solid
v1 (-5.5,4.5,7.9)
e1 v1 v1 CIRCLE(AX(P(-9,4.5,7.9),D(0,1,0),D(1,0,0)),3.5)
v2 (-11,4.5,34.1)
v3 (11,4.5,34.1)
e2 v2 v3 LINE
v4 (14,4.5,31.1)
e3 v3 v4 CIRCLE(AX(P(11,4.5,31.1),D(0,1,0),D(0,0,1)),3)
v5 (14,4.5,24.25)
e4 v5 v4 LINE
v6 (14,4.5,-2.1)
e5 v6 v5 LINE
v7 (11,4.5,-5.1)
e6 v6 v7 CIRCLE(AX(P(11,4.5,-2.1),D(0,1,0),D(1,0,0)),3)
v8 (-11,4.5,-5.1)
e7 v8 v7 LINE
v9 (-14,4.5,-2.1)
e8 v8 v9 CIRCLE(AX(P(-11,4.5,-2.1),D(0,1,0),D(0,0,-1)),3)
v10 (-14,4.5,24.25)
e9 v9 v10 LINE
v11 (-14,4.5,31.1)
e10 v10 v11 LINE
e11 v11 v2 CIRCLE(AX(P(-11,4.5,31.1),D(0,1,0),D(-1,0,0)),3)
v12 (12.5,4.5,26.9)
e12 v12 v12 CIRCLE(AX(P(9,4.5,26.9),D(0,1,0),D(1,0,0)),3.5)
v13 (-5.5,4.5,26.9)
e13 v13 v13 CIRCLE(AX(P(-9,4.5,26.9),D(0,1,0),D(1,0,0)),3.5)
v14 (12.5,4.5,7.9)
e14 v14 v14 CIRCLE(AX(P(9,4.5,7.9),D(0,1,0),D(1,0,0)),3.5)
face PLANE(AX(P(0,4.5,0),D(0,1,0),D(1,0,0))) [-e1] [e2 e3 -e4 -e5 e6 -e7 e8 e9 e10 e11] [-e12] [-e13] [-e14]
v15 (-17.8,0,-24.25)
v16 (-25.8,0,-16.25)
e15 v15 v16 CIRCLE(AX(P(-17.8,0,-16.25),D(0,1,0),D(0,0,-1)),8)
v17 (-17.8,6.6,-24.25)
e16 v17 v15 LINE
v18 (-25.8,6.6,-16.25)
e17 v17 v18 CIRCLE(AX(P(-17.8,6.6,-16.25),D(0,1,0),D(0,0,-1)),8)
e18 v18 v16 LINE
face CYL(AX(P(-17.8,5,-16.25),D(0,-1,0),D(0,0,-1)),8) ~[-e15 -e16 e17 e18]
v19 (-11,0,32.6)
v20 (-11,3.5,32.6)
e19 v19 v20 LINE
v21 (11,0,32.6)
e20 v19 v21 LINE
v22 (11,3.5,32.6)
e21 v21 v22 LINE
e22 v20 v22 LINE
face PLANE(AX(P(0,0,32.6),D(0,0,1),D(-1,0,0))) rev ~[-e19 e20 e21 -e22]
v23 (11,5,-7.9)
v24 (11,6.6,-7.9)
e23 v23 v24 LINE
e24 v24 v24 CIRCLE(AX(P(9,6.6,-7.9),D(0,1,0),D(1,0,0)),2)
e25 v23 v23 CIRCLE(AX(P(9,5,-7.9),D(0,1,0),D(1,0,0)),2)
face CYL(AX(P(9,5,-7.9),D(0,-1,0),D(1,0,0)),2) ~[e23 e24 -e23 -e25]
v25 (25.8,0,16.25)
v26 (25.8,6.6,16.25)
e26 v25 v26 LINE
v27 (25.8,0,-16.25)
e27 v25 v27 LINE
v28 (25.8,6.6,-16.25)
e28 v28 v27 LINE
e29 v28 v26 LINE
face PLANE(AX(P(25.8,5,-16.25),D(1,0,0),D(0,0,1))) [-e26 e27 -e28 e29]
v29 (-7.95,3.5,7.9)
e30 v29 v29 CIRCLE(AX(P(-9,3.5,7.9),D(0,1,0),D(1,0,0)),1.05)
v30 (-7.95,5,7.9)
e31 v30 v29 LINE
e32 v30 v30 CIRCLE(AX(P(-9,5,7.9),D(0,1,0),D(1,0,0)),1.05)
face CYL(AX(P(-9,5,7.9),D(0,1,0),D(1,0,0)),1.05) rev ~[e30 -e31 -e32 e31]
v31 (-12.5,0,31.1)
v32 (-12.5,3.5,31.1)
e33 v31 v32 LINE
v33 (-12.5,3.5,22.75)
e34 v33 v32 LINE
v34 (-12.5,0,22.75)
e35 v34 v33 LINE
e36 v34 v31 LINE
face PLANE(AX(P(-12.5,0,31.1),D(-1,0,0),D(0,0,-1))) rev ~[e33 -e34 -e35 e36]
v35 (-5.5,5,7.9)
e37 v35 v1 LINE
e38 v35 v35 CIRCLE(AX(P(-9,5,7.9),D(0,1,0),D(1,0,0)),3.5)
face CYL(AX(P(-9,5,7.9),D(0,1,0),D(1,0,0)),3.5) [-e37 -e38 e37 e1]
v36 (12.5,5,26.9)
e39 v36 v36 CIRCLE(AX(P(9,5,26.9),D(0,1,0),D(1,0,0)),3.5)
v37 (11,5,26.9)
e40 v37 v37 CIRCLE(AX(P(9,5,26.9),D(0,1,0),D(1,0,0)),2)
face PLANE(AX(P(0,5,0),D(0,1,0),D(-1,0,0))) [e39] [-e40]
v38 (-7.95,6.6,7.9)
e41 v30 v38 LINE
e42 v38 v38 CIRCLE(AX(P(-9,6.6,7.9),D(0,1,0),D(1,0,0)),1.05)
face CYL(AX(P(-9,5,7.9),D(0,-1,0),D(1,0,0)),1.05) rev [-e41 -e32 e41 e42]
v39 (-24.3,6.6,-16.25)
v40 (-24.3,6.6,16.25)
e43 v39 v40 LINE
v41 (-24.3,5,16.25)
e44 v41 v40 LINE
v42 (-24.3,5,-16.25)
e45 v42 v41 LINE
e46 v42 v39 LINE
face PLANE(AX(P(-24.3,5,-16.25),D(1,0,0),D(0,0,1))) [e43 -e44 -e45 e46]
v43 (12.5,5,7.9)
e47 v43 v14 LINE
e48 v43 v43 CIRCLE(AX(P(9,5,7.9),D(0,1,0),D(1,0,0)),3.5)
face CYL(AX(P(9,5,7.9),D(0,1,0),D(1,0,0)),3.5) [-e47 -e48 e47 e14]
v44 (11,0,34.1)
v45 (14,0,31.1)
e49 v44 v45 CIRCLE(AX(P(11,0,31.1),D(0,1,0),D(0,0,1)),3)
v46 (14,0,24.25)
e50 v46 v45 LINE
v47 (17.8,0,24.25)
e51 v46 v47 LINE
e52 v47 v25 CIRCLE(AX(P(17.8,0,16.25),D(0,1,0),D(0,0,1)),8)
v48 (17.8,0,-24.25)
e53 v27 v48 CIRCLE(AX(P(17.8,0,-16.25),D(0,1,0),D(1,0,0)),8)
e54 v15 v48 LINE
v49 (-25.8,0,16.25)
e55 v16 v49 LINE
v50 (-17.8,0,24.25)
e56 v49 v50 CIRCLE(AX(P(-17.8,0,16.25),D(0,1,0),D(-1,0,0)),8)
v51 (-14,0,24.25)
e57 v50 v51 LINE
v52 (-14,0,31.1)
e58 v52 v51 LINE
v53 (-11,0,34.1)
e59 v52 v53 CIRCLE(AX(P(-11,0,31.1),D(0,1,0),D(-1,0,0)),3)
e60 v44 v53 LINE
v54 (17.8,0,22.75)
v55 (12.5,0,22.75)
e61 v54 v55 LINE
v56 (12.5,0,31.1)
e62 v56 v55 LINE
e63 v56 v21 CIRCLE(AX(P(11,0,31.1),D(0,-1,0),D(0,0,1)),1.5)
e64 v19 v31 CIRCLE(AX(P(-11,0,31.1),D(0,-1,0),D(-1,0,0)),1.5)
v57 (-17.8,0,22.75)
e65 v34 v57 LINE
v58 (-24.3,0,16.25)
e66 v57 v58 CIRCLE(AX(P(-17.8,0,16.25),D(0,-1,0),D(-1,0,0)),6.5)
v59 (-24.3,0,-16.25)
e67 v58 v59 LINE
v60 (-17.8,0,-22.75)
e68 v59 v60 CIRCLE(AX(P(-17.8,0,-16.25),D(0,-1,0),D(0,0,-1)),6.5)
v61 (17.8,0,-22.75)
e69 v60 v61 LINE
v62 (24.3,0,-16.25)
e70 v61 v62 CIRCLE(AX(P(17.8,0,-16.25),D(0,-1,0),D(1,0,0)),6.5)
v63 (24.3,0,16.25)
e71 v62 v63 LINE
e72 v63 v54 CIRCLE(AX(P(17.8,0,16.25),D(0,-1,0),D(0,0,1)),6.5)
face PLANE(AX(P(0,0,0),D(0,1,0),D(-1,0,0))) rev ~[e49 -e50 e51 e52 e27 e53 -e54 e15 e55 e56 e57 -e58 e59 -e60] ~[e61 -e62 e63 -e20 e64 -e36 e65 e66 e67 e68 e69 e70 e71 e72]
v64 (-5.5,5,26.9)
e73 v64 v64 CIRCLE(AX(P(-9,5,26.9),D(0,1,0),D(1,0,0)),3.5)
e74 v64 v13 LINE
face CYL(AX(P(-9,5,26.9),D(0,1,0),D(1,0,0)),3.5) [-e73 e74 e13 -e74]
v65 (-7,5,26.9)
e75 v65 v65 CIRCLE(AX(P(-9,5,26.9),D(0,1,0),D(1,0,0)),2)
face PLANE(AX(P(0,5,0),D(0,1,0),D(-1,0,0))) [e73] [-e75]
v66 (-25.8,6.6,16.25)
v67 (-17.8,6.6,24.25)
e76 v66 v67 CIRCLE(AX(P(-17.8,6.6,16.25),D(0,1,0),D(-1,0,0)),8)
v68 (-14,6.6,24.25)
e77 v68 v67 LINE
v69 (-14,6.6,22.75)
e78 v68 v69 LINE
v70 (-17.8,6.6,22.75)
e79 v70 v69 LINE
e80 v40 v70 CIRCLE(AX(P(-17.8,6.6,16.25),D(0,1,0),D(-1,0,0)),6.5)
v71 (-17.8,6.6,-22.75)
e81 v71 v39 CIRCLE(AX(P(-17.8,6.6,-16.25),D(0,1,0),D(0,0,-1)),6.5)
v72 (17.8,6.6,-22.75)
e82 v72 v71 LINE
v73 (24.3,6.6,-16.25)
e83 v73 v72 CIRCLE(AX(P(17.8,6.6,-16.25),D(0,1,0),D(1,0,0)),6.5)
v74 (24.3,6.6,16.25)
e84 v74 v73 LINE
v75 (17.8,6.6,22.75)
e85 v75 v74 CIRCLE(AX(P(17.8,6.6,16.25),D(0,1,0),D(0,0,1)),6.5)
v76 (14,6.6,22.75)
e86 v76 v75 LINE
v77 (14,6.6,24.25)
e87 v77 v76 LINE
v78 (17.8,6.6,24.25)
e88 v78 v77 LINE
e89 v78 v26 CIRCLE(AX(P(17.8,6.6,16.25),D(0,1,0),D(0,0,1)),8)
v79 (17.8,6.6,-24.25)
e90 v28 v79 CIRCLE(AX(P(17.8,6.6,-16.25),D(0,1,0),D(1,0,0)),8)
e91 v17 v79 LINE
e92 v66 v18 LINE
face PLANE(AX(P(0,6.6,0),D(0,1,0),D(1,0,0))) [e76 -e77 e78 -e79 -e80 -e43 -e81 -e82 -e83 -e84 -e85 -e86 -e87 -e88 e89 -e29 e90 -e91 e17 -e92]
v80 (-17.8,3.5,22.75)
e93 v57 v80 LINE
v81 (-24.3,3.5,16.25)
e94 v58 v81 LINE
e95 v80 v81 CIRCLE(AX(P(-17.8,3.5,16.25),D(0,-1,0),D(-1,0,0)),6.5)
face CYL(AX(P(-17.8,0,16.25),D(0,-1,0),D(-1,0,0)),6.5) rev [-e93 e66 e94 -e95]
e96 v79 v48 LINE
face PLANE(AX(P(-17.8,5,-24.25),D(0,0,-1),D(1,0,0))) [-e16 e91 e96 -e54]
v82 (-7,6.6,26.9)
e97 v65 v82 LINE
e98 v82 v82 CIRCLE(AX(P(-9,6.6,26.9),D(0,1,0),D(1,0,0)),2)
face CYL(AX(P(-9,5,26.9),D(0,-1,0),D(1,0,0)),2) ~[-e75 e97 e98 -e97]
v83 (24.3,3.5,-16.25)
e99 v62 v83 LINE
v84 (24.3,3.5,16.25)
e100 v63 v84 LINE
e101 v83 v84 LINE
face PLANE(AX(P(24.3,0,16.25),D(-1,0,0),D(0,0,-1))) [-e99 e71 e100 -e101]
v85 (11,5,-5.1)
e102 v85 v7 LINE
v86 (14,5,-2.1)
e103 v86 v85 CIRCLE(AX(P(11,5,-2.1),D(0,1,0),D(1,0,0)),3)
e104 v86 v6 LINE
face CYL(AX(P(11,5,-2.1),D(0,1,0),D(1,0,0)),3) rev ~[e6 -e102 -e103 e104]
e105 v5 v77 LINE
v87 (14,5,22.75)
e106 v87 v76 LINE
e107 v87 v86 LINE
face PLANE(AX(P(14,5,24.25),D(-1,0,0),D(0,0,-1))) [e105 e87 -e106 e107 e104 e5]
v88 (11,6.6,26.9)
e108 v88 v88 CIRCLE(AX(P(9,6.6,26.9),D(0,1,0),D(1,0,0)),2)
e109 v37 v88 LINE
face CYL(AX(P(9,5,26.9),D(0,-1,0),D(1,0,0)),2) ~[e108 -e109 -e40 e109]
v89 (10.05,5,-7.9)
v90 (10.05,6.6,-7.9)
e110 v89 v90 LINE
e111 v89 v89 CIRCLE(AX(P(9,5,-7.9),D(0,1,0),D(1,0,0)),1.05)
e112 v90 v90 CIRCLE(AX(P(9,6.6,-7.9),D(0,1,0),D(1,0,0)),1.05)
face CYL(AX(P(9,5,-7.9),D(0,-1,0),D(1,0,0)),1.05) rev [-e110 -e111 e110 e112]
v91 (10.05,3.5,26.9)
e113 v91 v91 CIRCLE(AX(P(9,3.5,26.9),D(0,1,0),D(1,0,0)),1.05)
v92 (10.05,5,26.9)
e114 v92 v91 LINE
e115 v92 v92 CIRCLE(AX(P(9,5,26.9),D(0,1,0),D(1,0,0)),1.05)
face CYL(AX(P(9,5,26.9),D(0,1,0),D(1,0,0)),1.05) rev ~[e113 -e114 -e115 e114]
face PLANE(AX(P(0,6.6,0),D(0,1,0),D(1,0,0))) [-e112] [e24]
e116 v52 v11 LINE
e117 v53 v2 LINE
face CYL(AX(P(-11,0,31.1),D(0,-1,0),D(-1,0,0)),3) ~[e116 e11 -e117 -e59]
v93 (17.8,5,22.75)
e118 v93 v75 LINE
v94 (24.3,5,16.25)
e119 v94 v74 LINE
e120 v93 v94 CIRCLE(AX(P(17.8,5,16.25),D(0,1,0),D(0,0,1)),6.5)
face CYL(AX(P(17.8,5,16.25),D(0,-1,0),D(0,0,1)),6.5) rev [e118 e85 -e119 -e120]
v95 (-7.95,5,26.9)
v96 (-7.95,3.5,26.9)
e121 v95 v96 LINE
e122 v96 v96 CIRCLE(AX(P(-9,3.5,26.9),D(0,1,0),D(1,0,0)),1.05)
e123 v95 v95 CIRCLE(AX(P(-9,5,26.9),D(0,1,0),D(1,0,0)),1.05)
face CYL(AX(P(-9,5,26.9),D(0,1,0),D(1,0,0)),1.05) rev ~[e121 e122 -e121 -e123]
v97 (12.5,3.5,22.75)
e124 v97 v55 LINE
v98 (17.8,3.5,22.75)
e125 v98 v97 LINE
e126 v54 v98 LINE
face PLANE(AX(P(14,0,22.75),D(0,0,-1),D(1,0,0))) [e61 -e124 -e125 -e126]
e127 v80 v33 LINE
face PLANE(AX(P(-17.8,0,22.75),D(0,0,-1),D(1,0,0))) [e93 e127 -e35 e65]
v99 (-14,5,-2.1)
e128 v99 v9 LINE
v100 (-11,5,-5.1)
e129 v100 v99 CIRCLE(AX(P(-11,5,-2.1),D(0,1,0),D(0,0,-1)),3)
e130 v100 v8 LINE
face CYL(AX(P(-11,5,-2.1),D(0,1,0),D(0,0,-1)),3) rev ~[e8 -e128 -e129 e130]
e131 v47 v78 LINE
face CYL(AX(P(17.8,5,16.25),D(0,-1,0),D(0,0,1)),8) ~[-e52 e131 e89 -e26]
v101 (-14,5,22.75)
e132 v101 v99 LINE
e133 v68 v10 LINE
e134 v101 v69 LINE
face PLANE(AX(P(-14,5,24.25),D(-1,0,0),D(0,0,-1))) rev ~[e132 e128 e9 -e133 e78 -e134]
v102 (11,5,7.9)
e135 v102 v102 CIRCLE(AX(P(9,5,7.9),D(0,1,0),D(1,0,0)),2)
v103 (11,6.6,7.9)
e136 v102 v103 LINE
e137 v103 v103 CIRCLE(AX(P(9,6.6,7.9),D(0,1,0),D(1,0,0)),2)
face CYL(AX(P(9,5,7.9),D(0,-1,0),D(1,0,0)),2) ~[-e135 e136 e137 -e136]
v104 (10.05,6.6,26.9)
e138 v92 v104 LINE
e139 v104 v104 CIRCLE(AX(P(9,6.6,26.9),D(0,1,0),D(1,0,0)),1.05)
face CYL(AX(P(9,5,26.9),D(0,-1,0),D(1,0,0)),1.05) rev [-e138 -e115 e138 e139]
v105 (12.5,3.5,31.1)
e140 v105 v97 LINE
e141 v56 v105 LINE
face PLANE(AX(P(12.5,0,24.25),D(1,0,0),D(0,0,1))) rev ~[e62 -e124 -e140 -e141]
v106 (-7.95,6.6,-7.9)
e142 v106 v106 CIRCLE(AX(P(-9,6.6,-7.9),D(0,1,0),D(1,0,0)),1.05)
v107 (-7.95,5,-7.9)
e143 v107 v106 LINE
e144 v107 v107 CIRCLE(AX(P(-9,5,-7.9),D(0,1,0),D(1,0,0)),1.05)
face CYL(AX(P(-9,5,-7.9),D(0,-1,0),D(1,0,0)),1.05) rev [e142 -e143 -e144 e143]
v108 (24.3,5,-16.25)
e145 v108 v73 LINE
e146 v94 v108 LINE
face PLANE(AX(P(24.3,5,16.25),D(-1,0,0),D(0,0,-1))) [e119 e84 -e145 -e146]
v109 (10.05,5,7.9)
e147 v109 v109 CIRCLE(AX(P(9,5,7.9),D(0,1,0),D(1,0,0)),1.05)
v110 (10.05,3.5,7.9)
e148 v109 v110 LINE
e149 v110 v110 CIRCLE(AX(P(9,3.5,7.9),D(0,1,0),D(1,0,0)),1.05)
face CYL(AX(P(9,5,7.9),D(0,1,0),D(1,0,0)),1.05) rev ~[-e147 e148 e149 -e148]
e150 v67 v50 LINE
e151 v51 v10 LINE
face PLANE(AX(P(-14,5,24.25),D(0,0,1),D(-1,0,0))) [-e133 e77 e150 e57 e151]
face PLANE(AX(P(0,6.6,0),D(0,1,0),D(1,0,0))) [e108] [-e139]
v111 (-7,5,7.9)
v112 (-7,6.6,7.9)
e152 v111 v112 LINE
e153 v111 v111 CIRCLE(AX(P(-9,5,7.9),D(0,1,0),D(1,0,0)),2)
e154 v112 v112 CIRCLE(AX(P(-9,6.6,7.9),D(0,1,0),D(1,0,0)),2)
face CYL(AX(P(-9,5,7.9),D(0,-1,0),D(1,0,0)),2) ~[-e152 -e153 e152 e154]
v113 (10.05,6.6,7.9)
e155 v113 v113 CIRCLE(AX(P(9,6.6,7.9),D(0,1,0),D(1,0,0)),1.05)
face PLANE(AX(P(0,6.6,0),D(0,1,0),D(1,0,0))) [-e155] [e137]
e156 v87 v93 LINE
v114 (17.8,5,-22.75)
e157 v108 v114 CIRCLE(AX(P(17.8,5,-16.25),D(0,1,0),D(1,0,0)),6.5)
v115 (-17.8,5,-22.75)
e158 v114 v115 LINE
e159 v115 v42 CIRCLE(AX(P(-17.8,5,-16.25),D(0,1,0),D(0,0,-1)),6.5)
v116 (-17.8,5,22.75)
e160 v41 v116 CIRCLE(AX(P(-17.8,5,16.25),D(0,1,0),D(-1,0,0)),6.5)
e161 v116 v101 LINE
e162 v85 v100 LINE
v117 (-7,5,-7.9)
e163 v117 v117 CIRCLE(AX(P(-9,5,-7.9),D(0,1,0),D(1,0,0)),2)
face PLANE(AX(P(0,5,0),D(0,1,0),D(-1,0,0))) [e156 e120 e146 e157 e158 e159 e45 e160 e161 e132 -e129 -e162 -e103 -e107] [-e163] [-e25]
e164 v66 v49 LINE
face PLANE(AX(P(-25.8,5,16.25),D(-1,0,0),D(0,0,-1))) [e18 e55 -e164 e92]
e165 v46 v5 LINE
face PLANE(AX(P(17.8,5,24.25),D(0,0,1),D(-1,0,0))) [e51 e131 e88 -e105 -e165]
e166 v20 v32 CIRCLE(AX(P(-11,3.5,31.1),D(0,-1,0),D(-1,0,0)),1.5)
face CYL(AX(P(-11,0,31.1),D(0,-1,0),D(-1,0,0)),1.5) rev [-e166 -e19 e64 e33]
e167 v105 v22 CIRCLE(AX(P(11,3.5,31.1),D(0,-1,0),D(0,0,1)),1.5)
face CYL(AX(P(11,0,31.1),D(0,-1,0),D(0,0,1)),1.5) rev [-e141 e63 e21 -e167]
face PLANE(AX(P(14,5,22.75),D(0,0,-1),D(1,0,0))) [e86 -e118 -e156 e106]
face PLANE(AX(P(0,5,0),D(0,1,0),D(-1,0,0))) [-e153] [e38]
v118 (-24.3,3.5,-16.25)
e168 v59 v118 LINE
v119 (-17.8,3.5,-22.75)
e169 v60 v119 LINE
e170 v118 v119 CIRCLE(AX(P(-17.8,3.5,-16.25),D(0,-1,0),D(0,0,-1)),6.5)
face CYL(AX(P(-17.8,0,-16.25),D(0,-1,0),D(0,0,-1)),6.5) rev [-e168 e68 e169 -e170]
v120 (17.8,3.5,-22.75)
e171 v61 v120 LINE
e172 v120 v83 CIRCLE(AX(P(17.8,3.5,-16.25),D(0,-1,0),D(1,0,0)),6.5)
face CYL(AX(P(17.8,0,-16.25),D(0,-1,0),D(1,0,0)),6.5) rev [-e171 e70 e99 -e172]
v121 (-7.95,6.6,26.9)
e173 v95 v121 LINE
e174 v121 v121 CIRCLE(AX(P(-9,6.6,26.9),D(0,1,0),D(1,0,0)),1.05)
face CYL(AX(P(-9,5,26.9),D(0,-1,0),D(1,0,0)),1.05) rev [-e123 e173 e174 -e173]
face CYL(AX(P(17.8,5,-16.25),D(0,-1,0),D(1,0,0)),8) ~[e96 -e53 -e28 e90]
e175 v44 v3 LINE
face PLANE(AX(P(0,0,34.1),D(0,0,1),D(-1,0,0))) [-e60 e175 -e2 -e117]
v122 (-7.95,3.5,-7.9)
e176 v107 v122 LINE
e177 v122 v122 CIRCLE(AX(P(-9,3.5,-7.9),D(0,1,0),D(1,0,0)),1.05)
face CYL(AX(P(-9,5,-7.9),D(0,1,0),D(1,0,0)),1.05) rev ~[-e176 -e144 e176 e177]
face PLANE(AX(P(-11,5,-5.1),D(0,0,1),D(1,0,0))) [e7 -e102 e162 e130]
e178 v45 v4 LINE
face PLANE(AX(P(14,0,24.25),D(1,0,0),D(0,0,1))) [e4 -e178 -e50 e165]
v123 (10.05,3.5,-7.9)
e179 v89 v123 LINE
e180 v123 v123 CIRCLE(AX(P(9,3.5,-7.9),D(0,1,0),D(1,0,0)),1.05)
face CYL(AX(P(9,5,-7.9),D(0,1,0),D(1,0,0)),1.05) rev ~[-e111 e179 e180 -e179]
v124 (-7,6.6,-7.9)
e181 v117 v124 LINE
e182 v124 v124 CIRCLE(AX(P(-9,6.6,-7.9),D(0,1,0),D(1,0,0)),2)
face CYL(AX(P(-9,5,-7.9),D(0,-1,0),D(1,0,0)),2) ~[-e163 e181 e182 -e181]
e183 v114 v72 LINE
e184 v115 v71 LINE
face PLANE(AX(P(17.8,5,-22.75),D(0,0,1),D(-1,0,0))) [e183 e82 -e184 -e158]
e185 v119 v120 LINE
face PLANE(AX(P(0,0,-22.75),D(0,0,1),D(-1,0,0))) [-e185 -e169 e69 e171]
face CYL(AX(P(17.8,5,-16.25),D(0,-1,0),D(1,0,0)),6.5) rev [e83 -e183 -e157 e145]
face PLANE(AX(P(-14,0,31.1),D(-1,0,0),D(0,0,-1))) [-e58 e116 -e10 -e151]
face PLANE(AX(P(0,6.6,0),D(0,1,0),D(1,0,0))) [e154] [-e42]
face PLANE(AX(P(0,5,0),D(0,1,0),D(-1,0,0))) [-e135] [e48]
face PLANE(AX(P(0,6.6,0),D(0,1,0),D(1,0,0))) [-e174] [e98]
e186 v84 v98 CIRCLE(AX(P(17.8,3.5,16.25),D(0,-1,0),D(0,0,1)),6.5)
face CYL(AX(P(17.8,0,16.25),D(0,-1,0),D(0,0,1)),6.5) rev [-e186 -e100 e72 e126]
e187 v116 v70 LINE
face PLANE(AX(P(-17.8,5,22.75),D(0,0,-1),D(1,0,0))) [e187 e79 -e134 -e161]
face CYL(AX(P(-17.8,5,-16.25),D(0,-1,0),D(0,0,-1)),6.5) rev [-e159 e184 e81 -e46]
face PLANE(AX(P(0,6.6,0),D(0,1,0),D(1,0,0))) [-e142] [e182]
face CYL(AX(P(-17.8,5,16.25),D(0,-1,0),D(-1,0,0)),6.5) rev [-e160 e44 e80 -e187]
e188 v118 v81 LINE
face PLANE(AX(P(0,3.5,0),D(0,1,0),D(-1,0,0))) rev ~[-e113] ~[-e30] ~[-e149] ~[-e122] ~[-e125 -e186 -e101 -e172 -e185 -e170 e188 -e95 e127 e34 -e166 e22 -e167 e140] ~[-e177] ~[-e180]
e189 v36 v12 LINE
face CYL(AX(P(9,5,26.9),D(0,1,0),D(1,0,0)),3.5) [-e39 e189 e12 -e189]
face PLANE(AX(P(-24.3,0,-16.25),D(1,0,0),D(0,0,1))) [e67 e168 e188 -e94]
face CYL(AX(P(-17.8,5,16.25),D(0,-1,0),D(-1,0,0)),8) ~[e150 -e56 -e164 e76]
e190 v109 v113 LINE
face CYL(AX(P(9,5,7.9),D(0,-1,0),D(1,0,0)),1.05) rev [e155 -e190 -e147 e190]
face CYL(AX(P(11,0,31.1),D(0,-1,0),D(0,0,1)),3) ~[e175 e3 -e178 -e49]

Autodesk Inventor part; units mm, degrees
ref_plane "YZ Plane" through (0, 0, 0) normal (1, 0, 0) x (0, 1, 0)
ref_plane "XZ Plane" through (0, 0, 0) normal (0, 1, 0) x (-1, 0, 0)
ref_plane "XY Plane" through (0, 0, 0) normal (0, 0, 1) x (1, 0, 0)
sketch "Sketch1" plane through (0, 0, 0) normal (0, 1, 0) x (-1, 0, 0)
  line L0 (17.8, 24.25) -> (-17.8, 24.25)
  line L1 (-25.8, 16.25) -> (-25.8, -16.25)
  line L2 (-17.8, -24.25) -> (17.8, -24.25)
  line L3 (25.8, -16.25) -> (25.8, 16.25)
  line L4 (25.8, 24.25) -> (-25.8, -24.25) construction
  line L5 (-25.8, 24.25) -> (25.8, -24.25) construction
  line L6 (14, 24.25) -> (-14, 24.25)
  line L7 (-14, 24.25) -> (-14, 31.1)
  line L8 (-11, 34.1) -> (11, 34.1)
  line L9 (14, 31.1) -> (14, 24.25)
  line L10 (0, -38.0325) -> (0, 46.847) projected
  arc A0 (14, 31.1) -> (11, 34.1) centre (11, 31.1) ccw
  arc A1 (-11, 34.1) -> (-14, 31.1) centre (-11, 31.1) ccw
  arc A2 (17.8, -24.25) -> (25.8, -16.25) centre (17.8, -16.25) ccw
  arc A3 (-25.8, -16.25) -> (-17.8, -24.25) centre (-17.8, -16.25) ccw
  arc A4 (-17.8, 24.25) -> (-25.8, 16.25) centre (-17.8, 16.25) ccw
  arc A5 (25.8, 16.25) -> (17.8, 24.25) centre (17.8, 16.25) ccw
  point P0 (0, 0)
  point P1 (-14, 34.1)
  dimension "d0" = 48.5
  dimension "d1" = 51.6
  dimension "d2" = 9.85
  dimension "d3" = 28
  dimension "d5" = 3
  dimension "d10" = 8
extrude "Extrusion1" add sketch "Sketch1" along normal blind 5
shell "Shell1" thickness 1.5 removed faces 1 at (4.6667, 0, -8.0833)
sketch "Sketch2" plane through (0, 5, 0) normal (0, 1, 0) x (1, 0, 0)
  circle A0 centre (-9, -7.9) radius 1.05
  circle A1 centre (9, -7.9) radius 1.05
  circle A2 centre (-9, 7.9) radius 1.05
  circle A3 centre (9, 7.9) radius 1.05
  line L0 (-36.12, 0) -> (36.12, 0) projected
  line L1 (0, 35.92) -> (0, -45.77) projected
  circle A4 centre (-9, -26.9) radius 1.05
  circle A5 centre (9, -26.9) radius 1.05
  point P0 (0, 0)
  dimension "d11" = 2.1
  dimension "d12" = 18
  dimension "d13" = 15.8
  dimension "d14" = 19
extrude "Extrusion2" cut sketch "Sketch2" against normal through all
sketch "Sketch3" plane through (0, 5, 0) normal (0, 1, 0) x (1, 0, 0)
  circle A0 centre (9, -7.9) radius 1.05 projected
  circle A1 centre (-9, 7.9) radius 1.05 projected
  circle A2 centre (9, -26.9) radius 1.05 projected
  circle A3 centre (-9, -7.9) radius 1.05 projected
  circle A4 centre (9, 7.9) radius 1.05 projected
  circle A5 centre (-9, -26.9) radius 1.05 projected
  arc A6 (11, -34.1) -> (14, -31.1) centre (11, -31.1) ccw projected
  line L0 (11, -34.1) -> (-11, -34.1) projected
  arc A7 (-14, -31.1) -> (-11, -34.1) centre (-11, -31.1) ccw projected
  line L1 (-14, -31.1) -> (-14, -24.25) projected
  line L2 (-14, -24.25) -> (-17.8, -24.25) projected
  arc A8 (-25.8, -16.25) -> (-17.8, -24.25) centre (-17.8, -16.25) ccw projected
  line L3 (-25.8, -16.25) -> (-25.8, 16.25) projected
  arc A9 (-17.8, 24.25) -> (-25.8, 16.25) centre (-17.8, 16.25) ccw projected
  line L4 (-17.8, 24.25) -> (17.8, 24.25) projected
  arc A10 (25.8, 16.25) -> (17.8, 24.25) centre (17.8, 16.25) ccw projected
  line L5 (25.8, 16.25) -> (25.8, -16.25) projected
  arc A11 (17.8, -24.25) -> (25.8, -16.25) centre (17.8, -16.25) ccw projected
  line L6 (17.8, -24.25) -> (14, -24.25) projected
  line L7 (14, -24.25) -> (14, -31.1) projected
  line L8 (-24.3, 16.25) -> (-24.3, -16.25)
  arc A12 (-24.3, -16.25) -> (-17.8, -22.75) centre (-17.8, -16.25) ccw
  line L9 (-17.8, -22.75) -> (-12.5, -22.75)
  line L10 (-12.5, -22.75) -> (-12.5, -31.1)
  arc A13 (-12.5, -31.1) -> (-11, -32.6) centre (-11, -31.1) ccw
  line L11 (-11, -32.6) -> (11, -32.6)
  arc A14 (11, -32.6) -> (12.5, -31.1) centre (11, -31.1) ccw
  line L12 (12.5, -31.1) -> (12.5, -22.75)
  line L13 (12.5, -22.75) -> (17.8, -22.75)
  arc A15 (17.8, -22.75) -> (24.3, -16.25) centre (17.8, -16.25) ccw
  line L14 (24.3, -16.25) -> (24.3, 16.25)
  arc A16 (24.3, 16.25) -> (17.8, 22.75) centre (17.8, 16.25) ccw
  line L15 (17.8, 22.75) -> (-17.8, 22.75)
  arc A17 (-17.8, 22.75) -> (-24.3, 16.25) centre (-17.8, 16.25) ccw
  line L16 (-14, -24.25) -> (-14, -22.75)
  line L17 (14, -24.25) -> (14, -22.75)
  point P0 (0, 0)
  dimension "d17" = 1.5
extrude "Extrusion3" add sketch "Sketch3" along normal blind 1.6 contours L17 L13 A15 L14 A16 L15 A17 L8 A12 L9 L16 L2 A8 L3 A9 L4 A10 L5 A11 L6
sketch "Sketch4" plane through (0, 5, 0) normal (0, 1, 0) x (1, 0, 0)
  circle A0 centre (-9, 7.9) radius 2
  circle A1 centre (9, 7.9) radius 2
  circle A2 centre (9, -7.9) radius 2
  circle A3 centre (-9, -7.9) radius 2
  circle A4 centre (-9, -26.9) radius 2
  circle A5 centre (9, -26.9) radius 2
  circle A6 centre (9, 7.9) radius 1.05 projected
  circle A7 centre (9, -7.9) radius 1.05 projected
  circle A8 centre (9, -26.9) radius 1.05 projected
  circle A9 centre (-9, -26.9) radius 1.05 projected
  circle A10 centre (-9, -7.9) radius 1.05 projected
  circle A11 centre (-9, 7.9) radius 1.05 projected
  point P0 (0, 0)
  dimension "d20" = 4
extrude "Extrusion4" add sketch "Sketch4" along normal blind 1.6
sketch "Sketch5" plane through (0, 5, 0) normal (0, 1, 0) x (1, 0, 0)
  line L0 (-11, -34.1) -> (11, -34.1) projected
  line L1 (0, 38.0325) -> (0, -46.847) projected
  circle A0 centre (-9, 7.9) radius 1.05 projected
  arc A1 (-14, -31.1) -> (-11, -34.1) centre (-11, -31.1) ccw projected
  circle A2 centre (9, -7.9) radius 2 projected
  circle A3 centre (-9, 7.9) radius 2 projected
  circle A4 centre (9, -26.9) radius 2 projected
  circle A5 centre (-9, -7.9) radius 2 projected
  circle A6 centre (9, 7.9) radius 2 projected
  circle A7 centre (-9, -26.9) radius 2 projected
  circle A8 centre (9, -7.9) radius 1.05 projected
  circle A9 centre (-9, 7.9) radius 1.05 projected
  circle A10 centre (9, -26.9) radius 1.05 projected
  circle A11 centre (-9, -7.9) radius 1.05 projected
  circle A12 centre (9, 7.9) radius 1.05 projected
  circle A13 centre (-9, -26.9) radius 1.05 projected
  line L2 (11, -34.1) -> (-11, -34.1) projected
  line L3 (-14, -31.1) -> (-14, -24.25) projected
  line L4 (-14, -22.75) -> (-14, -24.25) projected
  line L5 (-17.8, -22.75) -> (-14, -22.75) projected
  arc A14 (-24.3, -16.25) -> (-17.8, -22.75) centre (-17.8, -16.25) ccw projected
  line L6 (-24.3, 16.25) -> (-24.3, -16.25) projected
  arc A15 (-17.8, 22.75) -> (-24.3, 16.25) centre (-17.8, 16.25) ccw projected
  line L7 (17.8, 22.75) -> (-17.8, 22.75) projected
  arc A16 (24.3, 16.25) -> (17.8, 22.75) centre (17.8, 16.25) ccw projected
  line L8 (24.3, -16.25) -> (24.3, 16.25) projected
  arc A17 (17.8, -22.75) -> (24.3, -16.25) centre (17.8, -16.25) ccw projected
  line L9 (14, -22.75) -> (17.8, -22.75) projected
  line L10 (14, -24.25) -> (14, -22.75) projected
  line L11 (17.8, -24.25) -> (14, -24.25) projected
  arc A18 (17.8, -24.25) -> (25.8, -16.25) centre (17.8, -16.25) ccw projected
  line L12 (25.8, 16.25) -> (25.8, -16.25) projected
  arc A19 (25.8, 16.25) -> (17.8, 24.25) centre (17.8, 16.25) ccw projected
  line L13 (-17.8, 24.25) -> (17.8, 24.25) projected
  arc A20 (-17.8, 24.25) -> (-25.8, 16.25) centre (-17.8, 16.25) ccw projected
  line L14 (-25.8, -16.25) -> (-25.8, 16.25) projected
  arc A21 (-25.8, -16.25) -> (-17.8, -24.25) centre (-17.8, -16.25) ccw projected
  line L15 (-14, -24.25) -> (-17.8, -24.25) projected
  line L16 (14, -24.25) -> (14, -31.1) projected
  circle A22 centre (-9, -26.9) radius 3.5
  circle A23 centre (-9, -7.9) radius 3.5
  circle A24 centre (9, -7.9) radius 3.5
  circle A25 centre (9, -26.9) radius 3.5
  circle A26 centre (-9, 7.9) radius 2 projected
  arc A27 (11, -34.1) -> (14, -31.1) centre (11, -31.1) ccw projected
  arc A28 (-14, -31.1) -> (-11, -34.1) centre (-11, -31.1) ccw projected
  line L17 (-11, 5.1) -> (11, 5.1)
  line L18 (14, 2.1) -> (14, -31.1)
  line L19 (11, -34.1) -> (-11, -34.1)
  line L20 (-14, -31.1) -> (-14, 2.1)
  arc A29 (-14, -31.1) -> (-11, -34.1) centre (-11, -31.1) ccw
  arc A30 (11, -34.1) -> (14, -31.1) centre (11, -31.1) ccw
  arc A31 (14, 2.1) -> (11, 5.1) centre (11, 2.1) ccw
  arc A32 (-11, 5.1) -> (-14, 2.1) centre (-11, 2.1) ccw
  point P0 (0, 0)
  point P1 (0, -34.1)
  point P2 (14, -24.2498)
  dimension "d25" = 7
  dimension "d30" = 39.2
extrude "Extrusion5" cut sketch "Sketch5" against normal blind 0.5 contours A1 L3 L4 L20 A32 L17 L1 L0 | L1 L17 A31 L18 L10 L16 A27 L0
properties part number "Pin-Base"
